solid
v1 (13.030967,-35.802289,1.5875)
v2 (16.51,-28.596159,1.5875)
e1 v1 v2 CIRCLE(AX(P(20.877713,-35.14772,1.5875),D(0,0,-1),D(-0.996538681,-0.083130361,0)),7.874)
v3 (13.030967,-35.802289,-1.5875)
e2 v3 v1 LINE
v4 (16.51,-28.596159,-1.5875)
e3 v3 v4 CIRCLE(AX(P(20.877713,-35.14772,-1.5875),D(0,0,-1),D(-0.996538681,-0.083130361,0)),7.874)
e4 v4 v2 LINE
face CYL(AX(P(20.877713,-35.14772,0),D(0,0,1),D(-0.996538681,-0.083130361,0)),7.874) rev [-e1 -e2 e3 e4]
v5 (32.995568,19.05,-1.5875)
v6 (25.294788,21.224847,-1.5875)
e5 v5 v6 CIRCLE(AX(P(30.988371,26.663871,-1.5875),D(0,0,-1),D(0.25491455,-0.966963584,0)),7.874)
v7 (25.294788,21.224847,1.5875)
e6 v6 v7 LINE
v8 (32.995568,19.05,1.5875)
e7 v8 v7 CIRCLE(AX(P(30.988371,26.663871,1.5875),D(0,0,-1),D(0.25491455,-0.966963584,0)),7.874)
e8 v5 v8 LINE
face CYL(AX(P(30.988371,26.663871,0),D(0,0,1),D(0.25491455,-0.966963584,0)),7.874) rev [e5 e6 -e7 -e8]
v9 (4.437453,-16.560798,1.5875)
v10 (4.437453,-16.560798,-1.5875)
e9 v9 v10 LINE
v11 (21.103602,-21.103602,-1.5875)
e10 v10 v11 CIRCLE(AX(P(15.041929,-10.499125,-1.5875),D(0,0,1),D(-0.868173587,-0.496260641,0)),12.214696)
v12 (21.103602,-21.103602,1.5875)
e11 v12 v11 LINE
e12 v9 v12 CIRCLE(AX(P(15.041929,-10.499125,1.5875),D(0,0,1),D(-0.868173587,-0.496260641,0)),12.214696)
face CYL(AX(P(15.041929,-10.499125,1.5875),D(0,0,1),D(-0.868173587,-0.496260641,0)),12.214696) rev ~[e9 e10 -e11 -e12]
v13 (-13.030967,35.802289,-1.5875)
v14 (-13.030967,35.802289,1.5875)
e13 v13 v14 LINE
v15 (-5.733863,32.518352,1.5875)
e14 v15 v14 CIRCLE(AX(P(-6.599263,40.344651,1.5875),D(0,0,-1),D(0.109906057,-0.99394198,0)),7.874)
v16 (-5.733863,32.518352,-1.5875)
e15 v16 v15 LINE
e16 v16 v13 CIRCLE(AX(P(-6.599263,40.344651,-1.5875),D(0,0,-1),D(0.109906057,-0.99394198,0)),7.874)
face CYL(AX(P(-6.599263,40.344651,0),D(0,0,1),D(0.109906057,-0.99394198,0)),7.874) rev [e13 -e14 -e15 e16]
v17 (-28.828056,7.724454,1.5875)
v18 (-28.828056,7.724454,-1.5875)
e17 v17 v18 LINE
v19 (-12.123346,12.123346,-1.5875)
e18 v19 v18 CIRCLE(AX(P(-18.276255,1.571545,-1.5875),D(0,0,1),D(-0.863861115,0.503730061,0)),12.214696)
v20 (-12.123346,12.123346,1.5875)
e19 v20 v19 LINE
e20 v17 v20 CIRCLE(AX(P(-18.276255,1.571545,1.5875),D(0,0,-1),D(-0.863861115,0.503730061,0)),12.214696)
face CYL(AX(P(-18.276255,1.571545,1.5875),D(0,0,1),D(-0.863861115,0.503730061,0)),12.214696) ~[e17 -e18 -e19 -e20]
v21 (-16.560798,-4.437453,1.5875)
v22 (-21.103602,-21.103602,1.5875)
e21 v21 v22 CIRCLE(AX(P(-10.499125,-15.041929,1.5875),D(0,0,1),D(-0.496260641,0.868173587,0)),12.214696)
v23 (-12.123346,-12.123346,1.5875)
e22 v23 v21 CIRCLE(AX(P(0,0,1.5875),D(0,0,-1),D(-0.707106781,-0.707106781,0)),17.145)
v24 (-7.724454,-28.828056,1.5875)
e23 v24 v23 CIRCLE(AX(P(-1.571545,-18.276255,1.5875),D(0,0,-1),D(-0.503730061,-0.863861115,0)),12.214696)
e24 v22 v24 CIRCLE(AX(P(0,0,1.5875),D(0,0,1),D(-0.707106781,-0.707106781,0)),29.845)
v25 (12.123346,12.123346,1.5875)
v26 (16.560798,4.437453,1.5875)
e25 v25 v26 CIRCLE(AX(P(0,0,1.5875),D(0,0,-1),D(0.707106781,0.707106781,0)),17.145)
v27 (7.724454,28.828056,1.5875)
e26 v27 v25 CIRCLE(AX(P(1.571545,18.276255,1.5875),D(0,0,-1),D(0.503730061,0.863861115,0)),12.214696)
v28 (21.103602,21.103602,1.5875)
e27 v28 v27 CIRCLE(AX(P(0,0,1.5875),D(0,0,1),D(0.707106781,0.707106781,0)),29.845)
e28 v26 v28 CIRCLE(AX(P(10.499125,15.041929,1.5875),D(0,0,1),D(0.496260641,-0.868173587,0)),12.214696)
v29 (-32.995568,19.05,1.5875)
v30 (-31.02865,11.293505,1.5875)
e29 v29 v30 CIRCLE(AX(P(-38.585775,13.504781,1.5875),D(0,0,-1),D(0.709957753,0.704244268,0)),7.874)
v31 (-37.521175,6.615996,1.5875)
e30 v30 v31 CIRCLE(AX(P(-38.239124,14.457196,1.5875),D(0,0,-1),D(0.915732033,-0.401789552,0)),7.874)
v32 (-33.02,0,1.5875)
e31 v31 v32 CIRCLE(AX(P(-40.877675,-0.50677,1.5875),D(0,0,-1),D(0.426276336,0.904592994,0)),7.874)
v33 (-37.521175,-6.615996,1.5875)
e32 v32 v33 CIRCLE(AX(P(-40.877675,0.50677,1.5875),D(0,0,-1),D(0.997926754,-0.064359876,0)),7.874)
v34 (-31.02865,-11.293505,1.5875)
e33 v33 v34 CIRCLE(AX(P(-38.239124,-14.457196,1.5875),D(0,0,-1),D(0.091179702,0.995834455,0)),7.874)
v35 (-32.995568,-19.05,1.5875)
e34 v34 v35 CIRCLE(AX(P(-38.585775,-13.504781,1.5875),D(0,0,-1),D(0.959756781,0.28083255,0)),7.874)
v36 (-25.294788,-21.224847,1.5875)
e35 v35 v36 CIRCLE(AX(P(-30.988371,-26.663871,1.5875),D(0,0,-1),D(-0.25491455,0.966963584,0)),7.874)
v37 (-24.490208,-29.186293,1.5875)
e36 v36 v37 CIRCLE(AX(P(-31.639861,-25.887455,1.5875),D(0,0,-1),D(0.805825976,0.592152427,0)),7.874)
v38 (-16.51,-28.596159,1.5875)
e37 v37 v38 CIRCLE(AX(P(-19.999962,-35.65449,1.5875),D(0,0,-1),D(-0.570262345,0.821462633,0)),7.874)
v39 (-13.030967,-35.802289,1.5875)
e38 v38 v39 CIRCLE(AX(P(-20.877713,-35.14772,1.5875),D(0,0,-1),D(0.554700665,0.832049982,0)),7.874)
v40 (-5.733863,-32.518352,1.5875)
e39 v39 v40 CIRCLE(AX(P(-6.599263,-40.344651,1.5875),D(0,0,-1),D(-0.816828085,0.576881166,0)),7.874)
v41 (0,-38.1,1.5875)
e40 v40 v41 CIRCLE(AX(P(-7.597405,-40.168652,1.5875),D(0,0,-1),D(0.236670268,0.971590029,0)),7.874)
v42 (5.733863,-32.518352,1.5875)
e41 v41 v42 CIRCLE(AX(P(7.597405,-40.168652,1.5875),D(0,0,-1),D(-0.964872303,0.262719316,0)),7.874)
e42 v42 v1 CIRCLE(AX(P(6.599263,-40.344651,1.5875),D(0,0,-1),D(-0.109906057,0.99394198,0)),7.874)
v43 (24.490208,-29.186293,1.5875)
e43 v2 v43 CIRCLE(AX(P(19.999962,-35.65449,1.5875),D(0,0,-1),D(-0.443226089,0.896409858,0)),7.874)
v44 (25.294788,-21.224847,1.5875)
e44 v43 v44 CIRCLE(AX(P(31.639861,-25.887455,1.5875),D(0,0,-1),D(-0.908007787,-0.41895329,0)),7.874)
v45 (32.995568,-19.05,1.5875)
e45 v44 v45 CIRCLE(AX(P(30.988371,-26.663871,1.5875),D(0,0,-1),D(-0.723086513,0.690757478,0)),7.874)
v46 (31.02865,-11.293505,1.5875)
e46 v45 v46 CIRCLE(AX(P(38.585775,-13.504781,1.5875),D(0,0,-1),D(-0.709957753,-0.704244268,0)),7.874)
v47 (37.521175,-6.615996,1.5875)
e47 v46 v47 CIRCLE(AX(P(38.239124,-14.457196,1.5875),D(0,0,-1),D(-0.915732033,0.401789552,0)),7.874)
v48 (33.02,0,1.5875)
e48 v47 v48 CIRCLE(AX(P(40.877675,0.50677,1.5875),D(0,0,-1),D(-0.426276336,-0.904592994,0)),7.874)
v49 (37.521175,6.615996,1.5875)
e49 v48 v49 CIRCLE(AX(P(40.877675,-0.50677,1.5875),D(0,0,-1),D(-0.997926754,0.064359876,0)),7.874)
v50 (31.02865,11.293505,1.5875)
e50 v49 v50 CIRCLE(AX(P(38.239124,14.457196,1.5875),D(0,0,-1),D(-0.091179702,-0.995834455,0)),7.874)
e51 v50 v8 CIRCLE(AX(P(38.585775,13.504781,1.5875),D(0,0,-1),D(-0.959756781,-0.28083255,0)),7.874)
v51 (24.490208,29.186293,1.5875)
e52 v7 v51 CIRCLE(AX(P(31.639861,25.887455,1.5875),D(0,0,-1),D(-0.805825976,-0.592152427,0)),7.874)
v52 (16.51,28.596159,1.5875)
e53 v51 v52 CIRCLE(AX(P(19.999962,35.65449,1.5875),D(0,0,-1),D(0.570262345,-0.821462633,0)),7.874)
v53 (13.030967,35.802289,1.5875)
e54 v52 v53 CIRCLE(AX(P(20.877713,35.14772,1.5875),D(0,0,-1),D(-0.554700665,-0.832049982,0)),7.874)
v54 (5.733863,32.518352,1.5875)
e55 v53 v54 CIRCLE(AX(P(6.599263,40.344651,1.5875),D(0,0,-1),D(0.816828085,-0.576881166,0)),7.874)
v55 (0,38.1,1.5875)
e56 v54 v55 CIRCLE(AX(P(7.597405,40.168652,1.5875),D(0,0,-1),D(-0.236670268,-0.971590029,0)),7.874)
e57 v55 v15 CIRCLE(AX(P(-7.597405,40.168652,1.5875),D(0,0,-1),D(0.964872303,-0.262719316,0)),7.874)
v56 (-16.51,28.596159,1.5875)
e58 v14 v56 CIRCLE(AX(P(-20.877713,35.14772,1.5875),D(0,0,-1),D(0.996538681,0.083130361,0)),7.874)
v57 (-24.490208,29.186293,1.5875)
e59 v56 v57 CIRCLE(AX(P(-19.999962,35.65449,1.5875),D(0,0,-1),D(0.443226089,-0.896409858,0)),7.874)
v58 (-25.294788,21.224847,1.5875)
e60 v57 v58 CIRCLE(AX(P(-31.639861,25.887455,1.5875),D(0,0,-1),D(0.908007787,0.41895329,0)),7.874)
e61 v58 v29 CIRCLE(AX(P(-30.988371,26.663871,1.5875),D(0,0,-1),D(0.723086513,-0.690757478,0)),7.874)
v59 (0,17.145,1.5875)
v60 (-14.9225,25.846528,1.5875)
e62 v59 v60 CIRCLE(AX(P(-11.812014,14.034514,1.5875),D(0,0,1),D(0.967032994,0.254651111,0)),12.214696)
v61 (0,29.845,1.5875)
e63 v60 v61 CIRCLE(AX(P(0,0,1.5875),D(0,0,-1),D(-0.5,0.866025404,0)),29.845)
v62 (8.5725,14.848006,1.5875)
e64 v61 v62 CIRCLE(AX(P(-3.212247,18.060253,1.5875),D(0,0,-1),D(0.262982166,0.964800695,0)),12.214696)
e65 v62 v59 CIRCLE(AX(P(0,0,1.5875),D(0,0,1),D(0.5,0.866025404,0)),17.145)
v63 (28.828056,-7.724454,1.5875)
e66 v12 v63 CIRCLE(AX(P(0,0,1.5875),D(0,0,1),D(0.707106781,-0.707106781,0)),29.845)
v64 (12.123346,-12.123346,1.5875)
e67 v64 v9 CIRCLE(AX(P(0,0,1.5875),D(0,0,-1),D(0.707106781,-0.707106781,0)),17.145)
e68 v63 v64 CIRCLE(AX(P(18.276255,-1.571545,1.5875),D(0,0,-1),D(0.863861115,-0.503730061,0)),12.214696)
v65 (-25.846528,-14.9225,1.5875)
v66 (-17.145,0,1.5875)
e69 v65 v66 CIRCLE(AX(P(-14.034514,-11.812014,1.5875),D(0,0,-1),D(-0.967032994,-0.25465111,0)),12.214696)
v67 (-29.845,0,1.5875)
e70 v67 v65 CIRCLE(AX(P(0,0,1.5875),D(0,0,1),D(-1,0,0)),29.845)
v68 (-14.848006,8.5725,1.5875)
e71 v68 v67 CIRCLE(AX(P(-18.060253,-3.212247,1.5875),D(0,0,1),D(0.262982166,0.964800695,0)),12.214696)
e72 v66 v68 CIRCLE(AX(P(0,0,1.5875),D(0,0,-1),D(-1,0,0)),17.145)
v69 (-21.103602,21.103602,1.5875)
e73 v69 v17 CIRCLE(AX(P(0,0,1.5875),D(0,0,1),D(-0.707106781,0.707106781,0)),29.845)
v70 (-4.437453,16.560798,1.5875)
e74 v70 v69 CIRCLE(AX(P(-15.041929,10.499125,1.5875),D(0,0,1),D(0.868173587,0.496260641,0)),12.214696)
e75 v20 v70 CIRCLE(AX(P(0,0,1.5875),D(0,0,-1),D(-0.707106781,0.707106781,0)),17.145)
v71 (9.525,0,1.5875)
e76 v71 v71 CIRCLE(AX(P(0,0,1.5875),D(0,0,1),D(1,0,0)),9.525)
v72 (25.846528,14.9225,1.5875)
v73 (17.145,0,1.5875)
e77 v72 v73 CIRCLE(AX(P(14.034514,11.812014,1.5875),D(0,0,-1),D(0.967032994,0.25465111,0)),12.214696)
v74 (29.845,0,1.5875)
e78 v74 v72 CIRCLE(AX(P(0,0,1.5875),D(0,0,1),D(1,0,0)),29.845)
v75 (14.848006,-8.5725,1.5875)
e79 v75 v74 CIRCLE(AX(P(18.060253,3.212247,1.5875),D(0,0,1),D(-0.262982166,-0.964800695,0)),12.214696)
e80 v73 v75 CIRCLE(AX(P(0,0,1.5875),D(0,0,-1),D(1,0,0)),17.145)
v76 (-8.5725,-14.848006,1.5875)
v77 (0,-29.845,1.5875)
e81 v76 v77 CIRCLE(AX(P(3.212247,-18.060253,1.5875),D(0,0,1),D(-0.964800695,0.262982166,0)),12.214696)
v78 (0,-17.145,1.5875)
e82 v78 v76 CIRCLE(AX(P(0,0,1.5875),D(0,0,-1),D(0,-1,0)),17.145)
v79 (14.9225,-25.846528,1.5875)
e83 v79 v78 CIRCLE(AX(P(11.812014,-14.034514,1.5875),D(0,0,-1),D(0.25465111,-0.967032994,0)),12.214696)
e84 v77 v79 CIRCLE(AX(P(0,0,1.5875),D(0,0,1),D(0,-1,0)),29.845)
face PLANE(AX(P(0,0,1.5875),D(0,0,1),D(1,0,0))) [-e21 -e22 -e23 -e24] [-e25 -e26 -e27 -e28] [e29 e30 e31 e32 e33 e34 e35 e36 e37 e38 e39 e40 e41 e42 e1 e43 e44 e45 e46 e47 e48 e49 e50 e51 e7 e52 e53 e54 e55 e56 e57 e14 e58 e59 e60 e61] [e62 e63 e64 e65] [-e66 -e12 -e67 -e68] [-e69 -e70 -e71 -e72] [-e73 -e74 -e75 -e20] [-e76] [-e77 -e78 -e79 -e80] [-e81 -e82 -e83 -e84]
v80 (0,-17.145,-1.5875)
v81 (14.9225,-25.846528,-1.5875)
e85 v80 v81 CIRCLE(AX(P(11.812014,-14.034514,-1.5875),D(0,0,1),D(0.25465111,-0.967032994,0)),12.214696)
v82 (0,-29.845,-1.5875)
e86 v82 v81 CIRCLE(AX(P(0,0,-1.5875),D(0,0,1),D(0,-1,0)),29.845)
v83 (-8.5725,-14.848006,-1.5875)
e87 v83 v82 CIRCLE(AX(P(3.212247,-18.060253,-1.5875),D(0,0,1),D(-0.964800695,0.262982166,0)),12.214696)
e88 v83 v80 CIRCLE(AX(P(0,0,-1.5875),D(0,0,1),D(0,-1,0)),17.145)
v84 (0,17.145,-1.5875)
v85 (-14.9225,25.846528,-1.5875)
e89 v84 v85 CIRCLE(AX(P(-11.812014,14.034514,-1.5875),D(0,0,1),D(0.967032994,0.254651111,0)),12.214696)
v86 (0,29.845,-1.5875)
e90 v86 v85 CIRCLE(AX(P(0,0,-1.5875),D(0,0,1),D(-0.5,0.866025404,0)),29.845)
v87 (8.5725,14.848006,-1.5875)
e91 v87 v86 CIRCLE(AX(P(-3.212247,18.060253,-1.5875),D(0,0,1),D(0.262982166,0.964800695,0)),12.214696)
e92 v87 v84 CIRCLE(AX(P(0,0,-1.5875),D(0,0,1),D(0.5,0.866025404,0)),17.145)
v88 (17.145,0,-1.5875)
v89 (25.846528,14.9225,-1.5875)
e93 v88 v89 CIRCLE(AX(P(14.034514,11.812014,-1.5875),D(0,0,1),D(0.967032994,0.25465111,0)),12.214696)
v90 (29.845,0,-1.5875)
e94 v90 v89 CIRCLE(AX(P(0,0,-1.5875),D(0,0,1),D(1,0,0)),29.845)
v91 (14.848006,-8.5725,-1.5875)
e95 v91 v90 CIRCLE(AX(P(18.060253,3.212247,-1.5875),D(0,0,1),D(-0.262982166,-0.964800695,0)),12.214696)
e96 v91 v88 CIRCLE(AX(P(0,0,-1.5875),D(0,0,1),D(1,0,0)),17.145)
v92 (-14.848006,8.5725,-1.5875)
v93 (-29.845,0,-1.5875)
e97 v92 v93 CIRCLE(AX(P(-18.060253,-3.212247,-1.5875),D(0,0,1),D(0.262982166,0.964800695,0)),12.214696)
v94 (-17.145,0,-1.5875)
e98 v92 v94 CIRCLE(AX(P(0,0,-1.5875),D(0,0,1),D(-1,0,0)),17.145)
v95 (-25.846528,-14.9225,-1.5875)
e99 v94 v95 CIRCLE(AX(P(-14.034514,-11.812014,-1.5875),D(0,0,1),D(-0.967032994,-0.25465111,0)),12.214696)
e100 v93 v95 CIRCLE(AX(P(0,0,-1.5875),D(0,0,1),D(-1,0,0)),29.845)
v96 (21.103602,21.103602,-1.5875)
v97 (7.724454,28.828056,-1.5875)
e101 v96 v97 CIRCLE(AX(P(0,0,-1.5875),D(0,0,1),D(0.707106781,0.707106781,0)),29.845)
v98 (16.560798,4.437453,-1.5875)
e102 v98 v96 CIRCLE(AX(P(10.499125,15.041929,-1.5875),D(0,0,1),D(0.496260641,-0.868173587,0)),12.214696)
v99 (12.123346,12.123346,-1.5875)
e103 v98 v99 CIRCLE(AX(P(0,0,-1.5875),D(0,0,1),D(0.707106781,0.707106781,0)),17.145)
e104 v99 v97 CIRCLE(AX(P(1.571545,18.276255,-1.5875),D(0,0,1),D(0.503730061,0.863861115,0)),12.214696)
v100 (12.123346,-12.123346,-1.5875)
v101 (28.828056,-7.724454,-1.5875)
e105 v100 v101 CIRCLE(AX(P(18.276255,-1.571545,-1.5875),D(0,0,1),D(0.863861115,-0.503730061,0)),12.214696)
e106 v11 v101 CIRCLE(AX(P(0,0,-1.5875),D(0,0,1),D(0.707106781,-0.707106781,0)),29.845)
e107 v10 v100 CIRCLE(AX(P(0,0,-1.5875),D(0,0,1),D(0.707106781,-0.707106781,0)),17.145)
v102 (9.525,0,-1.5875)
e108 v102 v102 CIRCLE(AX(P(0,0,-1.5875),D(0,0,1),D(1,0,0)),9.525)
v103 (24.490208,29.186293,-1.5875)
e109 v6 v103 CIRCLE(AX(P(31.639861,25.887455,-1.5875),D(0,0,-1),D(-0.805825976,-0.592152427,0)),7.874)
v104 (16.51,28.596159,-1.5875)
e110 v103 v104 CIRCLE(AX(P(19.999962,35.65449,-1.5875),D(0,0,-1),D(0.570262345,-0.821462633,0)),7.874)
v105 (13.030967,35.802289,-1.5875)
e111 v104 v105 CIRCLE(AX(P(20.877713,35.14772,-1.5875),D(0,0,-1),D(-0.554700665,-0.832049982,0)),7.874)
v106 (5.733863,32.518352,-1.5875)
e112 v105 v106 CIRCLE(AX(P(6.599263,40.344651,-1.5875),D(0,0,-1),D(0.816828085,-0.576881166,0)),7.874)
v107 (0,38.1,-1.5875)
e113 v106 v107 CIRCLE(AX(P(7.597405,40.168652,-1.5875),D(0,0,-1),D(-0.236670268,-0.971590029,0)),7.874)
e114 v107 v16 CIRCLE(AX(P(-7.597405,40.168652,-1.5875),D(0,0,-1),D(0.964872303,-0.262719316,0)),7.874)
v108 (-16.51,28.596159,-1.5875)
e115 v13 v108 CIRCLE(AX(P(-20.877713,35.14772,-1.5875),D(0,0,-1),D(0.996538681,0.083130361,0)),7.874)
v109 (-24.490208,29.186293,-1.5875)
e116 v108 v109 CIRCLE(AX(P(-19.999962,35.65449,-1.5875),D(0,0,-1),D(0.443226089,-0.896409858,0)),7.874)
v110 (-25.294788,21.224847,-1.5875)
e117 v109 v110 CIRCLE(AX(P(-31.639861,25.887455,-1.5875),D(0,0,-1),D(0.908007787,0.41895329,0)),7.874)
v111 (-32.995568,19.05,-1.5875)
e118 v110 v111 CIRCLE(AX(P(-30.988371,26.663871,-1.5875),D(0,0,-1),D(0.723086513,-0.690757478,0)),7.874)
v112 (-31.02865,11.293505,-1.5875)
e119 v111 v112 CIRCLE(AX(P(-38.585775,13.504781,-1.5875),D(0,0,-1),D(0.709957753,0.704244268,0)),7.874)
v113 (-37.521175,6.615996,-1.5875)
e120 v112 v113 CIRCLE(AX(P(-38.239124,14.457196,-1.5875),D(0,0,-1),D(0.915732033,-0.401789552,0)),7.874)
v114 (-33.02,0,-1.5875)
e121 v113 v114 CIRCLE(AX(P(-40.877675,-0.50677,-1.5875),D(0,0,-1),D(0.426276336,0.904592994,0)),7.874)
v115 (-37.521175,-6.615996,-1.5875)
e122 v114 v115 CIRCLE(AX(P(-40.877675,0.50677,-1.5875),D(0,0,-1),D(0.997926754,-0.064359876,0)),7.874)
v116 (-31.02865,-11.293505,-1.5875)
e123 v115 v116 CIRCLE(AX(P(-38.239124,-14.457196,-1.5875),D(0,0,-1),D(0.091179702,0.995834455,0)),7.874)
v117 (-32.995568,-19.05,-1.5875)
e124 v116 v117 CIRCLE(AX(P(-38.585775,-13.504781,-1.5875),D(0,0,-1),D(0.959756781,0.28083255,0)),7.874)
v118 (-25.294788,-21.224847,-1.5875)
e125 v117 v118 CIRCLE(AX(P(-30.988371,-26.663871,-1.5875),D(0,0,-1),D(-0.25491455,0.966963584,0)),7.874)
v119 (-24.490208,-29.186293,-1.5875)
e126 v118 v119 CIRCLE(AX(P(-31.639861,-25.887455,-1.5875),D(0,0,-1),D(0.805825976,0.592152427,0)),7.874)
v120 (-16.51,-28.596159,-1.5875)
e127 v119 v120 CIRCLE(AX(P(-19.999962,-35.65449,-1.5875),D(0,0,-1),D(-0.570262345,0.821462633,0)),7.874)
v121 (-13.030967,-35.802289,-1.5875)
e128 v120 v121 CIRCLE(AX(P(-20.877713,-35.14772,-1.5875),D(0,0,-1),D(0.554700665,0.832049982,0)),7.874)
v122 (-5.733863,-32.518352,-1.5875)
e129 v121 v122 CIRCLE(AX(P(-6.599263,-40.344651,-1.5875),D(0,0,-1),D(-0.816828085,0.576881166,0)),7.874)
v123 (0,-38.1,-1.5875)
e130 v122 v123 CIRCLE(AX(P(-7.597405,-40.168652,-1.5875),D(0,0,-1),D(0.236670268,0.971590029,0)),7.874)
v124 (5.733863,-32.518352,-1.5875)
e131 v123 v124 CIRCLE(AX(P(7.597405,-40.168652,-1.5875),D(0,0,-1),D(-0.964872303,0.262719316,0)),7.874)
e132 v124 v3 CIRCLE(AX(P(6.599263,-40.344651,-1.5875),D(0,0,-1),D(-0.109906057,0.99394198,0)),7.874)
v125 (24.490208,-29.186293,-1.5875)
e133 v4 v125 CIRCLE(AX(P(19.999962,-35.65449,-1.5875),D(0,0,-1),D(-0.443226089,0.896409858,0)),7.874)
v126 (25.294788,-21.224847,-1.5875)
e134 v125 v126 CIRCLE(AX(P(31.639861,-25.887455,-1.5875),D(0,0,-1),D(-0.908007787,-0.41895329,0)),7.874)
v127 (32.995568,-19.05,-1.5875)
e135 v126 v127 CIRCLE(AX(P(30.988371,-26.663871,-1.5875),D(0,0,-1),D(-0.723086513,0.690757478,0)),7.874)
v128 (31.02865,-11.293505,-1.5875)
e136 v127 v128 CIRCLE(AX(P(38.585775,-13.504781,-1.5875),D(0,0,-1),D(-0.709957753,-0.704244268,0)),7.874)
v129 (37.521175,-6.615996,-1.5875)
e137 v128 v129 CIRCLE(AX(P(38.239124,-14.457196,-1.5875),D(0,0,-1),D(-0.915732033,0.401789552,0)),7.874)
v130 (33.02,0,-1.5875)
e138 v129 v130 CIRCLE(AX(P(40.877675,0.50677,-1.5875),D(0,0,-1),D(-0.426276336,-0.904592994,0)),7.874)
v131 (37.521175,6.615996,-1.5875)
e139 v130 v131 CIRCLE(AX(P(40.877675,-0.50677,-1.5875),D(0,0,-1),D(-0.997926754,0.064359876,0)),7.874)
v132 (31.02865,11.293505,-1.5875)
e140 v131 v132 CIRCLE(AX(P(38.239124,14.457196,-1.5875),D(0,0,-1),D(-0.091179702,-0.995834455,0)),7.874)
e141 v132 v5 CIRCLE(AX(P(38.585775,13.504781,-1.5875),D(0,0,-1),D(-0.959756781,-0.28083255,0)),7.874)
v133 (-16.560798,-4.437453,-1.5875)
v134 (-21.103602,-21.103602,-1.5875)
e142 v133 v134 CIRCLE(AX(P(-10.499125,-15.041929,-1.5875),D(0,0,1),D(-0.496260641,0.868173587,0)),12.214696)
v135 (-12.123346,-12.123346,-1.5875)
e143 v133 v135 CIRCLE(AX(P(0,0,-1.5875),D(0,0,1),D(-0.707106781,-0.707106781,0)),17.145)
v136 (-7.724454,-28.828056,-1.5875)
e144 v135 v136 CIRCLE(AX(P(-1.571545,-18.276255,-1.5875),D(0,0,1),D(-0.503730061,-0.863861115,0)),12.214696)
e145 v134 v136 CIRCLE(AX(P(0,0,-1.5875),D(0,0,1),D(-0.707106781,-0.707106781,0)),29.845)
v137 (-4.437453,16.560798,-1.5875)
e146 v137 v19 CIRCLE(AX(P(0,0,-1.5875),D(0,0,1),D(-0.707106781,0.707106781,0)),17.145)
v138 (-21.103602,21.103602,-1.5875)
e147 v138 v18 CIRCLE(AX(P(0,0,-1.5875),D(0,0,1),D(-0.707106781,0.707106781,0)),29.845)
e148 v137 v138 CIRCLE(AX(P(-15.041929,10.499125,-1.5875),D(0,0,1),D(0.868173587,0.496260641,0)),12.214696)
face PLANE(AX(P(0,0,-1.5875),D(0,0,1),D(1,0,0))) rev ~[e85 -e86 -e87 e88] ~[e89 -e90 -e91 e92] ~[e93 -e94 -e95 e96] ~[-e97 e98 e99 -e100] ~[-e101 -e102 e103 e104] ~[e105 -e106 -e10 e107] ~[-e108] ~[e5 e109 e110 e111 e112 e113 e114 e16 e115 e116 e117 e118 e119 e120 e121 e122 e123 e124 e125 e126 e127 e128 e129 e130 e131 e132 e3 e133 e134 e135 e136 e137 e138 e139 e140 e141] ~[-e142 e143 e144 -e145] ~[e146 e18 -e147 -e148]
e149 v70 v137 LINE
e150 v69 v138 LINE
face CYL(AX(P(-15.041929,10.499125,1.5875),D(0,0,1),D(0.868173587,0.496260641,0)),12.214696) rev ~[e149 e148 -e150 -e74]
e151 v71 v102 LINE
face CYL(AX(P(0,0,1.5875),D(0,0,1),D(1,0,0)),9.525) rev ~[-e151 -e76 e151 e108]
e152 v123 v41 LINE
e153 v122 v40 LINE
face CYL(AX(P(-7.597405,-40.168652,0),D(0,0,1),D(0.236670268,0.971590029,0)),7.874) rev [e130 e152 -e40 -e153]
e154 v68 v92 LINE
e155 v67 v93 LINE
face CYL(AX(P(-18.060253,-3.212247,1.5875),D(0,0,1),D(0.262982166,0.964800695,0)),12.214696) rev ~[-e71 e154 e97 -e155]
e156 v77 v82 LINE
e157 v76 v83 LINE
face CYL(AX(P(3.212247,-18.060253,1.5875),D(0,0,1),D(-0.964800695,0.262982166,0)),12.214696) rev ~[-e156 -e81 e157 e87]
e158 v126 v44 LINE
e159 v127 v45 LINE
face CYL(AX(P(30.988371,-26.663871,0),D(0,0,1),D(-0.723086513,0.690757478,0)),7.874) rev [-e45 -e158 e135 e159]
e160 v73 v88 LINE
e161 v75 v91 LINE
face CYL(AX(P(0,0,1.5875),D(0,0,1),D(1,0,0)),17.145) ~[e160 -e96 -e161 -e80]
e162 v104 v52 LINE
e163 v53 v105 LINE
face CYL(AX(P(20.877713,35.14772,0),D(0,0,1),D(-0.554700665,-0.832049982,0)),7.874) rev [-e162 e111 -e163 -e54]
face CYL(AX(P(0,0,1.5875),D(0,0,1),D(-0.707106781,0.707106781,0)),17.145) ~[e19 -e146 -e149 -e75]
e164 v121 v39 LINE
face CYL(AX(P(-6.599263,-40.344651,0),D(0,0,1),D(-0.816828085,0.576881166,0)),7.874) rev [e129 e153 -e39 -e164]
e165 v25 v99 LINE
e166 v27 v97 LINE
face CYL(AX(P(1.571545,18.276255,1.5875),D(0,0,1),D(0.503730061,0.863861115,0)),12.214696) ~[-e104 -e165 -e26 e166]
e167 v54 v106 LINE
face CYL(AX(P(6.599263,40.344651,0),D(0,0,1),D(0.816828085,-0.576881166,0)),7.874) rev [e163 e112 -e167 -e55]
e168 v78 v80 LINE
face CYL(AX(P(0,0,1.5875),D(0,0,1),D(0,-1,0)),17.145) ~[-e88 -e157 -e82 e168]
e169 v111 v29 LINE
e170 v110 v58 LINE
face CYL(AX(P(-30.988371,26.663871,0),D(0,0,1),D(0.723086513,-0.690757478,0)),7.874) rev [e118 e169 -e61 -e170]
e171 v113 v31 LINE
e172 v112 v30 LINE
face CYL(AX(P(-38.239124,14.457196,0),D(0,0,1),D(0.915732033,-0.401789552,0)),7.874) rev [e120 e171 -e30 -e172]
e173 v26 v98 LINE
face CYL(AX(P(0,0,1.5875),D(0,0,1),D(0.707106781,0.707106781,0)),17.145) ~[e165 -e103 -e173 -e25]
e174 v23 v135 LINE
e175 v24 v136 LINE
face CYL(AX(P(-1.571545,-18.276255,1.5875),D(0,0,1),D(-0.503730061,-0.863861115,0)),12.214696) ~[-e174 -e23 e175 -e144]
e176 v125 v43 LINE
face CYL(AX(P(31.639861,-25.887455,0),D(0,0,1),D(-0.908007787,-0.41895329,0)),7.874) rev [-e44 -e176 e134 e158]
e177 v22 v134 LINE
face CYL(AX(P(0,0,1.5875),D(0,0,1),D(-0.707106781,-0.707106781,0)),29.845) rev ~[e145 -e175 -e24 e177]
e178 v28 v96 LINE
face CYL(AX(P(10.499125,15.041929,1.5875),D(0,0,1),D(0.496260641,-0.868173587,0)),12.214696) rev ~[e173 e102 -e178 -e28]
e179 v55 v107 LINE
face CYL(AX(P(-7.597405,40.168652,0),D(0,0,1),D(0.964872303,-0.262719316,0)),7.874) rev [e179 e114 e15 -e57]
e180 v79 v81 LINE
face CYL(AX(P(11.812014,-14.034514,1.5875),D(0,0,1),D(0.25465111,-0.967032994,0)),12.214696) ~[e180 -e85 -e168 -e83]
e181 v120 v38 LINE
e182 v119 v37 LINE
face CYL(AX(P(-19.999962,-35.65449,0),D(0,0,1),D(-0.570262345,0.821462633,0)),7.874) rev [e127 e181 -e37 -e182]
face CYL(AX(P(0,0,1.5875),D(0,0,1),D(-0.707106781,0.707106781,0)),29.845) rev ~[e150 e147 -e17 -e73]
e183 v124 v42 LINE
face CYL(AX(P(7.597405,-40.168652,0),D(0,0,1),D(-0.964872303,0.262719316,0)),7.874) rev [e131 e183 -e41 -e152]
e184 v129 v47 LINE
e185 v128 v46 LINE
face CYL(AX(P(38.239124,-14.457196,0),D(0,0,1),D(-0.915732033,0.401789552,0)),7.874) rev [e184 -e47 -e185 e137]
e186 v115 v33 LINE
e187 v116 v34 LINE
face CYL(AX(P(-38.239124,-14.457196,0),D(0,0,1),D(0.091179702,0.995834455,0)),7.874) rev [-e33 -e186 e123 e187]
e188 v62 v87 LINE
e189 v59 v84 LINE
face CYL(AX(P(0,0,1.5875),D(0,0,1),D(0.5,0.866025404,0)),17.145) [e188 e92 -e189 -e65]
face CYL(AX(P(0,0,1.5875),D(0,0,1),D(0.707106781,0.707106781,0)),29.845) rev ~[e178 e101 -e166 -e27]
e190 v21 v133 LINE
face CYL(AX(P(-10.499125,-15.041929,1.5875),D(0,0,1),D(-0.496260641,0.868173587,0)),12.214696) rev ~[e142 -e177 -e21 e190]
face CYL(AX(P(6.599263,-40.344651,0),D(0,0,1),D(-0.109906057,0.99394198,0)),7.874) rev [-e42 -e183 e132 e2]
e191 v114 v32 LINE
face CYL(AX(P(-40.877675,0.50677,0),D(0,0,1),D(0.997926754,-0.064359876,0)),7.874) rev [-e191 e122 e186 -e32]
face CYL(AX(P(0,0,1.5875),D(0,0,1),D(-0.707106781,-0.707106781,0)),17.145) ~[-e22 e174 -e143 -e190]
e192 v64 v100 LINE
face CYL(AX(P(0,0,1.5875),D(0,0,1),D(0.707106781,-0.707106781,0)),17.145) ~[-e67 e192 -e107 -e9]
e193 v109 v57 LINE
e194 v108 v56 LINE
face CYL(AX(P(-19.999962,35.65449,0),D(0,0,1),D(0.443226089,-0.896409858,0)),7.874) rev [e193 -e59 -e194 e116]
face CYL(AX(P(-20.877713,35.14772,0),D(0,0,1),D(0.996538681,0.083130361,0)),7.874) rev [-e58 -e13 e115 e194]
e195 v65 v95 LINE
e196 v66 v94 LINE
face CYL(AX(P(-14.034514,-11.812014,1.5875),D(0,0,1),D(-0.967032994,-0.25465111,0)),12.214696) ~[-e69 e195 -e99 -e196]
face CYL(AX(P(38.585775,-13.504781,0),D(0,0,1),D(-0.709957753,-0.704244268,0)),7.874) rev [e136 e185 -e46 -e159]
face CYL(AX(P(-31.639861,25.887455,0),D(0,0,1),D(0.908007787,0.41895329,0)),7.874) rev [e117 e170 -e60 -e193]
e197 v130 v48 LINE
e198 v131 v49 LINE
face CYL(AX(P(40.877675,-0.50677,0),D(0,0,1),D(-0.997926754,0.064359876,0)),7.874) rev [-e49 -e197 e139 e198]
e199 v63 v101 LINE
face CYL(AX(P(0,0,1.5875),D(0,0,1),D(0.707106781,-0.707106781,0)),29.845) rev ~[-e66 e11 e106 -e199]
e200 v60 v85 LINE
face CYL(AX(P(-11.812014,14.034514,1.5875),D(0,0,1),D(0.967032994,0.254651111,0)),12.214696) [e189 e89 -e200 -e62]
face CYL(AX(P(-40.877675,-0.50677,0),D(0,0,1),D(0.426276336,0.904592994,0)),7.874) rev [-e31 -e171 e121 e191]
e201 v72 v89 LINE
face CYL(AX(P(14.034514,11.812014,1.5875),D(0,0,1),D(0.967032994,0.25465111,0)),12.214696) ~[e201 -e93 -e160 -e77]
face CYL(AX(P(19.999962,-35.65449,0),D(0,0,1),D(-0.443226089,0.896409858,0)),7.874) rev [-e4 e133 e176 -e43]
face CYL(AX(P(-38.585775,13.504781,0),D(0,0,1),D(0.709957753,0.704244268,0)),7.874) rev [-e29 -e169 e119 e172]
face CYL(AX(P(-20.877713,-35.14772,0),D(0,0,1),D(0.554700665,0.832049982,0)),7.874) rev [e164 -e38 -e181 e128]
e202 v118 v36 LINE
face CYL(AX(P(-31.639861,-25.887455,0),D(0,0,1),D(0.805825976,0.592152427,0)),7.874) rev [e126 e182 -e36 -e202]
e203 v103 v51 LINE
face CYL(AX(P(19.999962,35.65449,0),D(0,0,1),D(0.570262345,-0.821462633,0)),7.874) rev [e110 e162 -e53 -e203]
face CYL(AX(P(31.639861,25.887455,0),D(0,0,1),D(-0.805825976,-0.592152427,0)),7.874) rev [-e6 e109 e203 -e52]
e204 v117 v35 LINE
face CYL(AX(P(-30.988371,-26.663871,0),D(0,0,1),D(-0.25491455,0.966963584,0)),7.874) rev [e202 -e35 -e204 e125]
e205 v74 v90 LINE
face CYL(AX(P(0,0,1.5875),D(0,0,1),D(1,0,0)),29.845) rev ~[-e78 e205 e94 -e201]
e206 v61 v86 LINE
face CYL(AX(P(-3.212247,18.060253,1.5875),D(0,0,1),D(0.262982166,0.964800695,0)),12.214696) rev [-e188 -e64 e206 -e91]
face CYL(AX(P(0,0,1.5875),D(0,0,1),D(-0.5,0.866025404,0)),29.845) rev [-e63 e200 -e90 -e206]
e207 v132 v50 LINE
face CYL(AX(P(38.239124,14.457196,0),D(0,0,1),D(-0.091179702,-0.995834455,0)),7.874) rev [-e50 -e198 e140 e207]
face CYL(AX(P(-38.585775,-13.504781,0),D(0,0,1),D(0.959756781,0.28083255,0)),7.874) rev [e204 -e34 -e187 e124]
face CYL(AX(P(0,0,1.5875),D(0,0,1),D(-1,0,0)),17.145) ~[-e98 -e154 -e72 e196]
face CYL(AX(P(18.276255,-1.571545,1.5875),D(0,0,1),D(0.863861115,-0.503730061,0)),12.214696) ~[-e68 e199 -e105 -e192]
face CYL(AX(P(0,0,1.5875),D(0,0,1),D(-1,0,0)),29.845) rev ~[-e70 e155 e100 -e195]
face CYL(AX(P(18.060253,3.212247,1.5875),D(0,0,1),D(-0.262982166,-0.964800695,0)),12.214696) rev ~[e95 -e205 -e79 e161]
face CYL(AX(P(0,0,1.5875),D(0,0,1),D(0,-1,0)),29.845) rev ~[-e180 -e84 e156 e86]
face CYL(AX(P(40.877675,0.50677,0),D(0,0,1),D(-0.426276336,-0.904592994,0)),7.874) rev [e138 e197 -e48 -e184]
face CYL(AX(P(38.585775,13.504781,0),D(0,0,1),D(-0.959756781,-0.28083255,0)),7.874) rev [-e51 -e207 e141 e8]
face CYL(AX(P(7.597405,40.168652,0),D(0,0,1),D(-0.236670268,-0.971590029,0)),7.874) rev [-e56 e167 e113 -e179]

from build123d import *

# Parameters (mm, degrees)
SALIENTE_EXTRUIR1_DEPTH = 1.5875
CROQUIS2_R              = 9.525
CORTAR_EXTRUIR1_DEPTH   = 4.175


with BuildPart() as part:
    # Croquis1 → Saliente-Extruir1 (new body, symmetric)
    with BuildSketch(Plane.XY):
        with BuildLine():
            ThreePointArc((0, 38.1), (-2.105039418, 34.526506764), (-5.733862827, 32.518352004))
            ThreePointArc((-5.733862827, 32.518352004), (-9.830670784, 33.164269511), (-13.030967461, 35.802288852))
            ThreePointArc((-13.030967461, 35.802288852), (-13.7868508, 31.724337744), (-16.51, 28.596158833))
            ThreePointArc((-16.51, 28.596158833), (-20.580657004, 27.801931903), (-24.490207929, 29.186293283))
            ThreePointArc((-24.490207929, 29.186293283), (-23.805764502, 25.09574539), (-25.294787512, 21.224846872))
            ThreePointArc((-25.294787512, 21.224846872), (-28.848312252, 19.086270994), (-32.995567884, 19.05))
            ThreePointArc((-32.995567884, 19.05), (-30.95335167, 15.440235769), (-31.028650338, 11.293505133))
            ThreePointArc((-31.028650338, 11.293505133), (-33.636435286, 8.06852412), (-37.52117539, 6.615995569))
            ThreePointArc((-37.52117539, 6.615995569), (-34.367507804, 3.922405841), (-33.02, 0))
            ThreePointArc((-33.02, 0), (-34.367507804, -3.922405841), (-37.52117539, -6.615995569))
            ThreePointArc((-37.52117539, -6.615995569), (-33.636435286, -8.06852412), (-31.028650338, -11.293505133))
            ThreePointArc((-31.028650338, -11.293505133), (-30.95335167, -15.440235769), (-32.995567884, -19.05))
            ThreePointArc((-32.995567884, -19.05), (-28.848312252, -19.086270994), (-25.294787512, -21.224846872))
            ThreePointArc((-25.294787512, -21.224846872), (-23.805764502, -25.09574539), (-24.490207929, -29.186293283))
            ThreePointArc((-24.490207929, -29.186293283), (-20.580657004, -27.801931903), (-16.51, -28.596158833))
            ThreePointArc((-16.51, -28.596158833), (-13.7868508, -31.724337744), (-13.030967461, -35.802288852))
            ThreePointArc((-13.030967461, -35.802288852), (-9.830670784, -33.164269511), (-5.733862827, -32.518352004))
            ThreePointArc((-5.733862827, -32.518352004), (-2.105039418, -34.526506764), (0, -38.1))
            ThreePointArc((0, -38.1), (2.105039418, -34.526506764), (5.733862827, -32.518352004))
            ThreePointArc((5.733862827, -32.518352004), (9.830670784, -33.164269511), (13.030967461, -35.802288852))
            ThreePointArc((13.030967461, -35.802288852), (13.7868508, -31.724337744), (16.51, -28.596158833))
            ThreePointArc((16.51, -28.596158833), (20.580657004, -27.801931903), (24.490207929, -29.186293283))
            ThreePointArc((24.490207929, -29.186293283), (23.805764502, -25.09574539), (25.294787512, -21.224846872))
            ThreePointArc((25.294787512, -21.224846872), (28.848312252, -19.086270994), (32.995567884, -19.05))
            ThreePointArc((32.995567884, -19.05), (30.95335167, -15.440235769), (31.028650338, -11.293505133))
            ThreePointArc((31.028650338, -11.293505133), (33.636435286, -8.06852412), (37.52117539, -6.615995569))
            ThreePointArc((37.52117539, -6.615995569), (34.367507804, -3.922405841), (33.02, 0))
            ThreePointArc((33.02, 0), (34.367507804, 3.922405841), (37.52117539, 6.615995569))
            ThreePointArc((37.52117539, 6.615995569), (33.636435286, 8.06852412), (31.028650338, 11.293505133))
            ThreePointArc((31.028650338, 11.293505133), (30.95335167, 15.440235769), (32.995567884, 19.05))
            ThreePointArc((32.995567884, 19.05), (28.848312252, 19.086270994), (25.294787512, 21.224846872))
            ThreePointArc((25.294787512, 21.224846872), (23.805764502, 25.09574539), (24.490207929, 29.186293283))
            ThreePointArc((24.490207929, 29.186293283), (20.580657004, 27.801931903), (16.51, 28.596158833))
            ThreePointArc((16.51, 28.596158833), (13.7868508, 31.724337744), (13.030967461, 35.802288852))
            ThreePointArc((13.030967461, 35.802288852), (9.830670784, 33.164269511), (5.733862827, 32.518352004))
            ThreePointArc((5.733862827, 32.518352004), (2.105039418, 34.526506764), (0, 38.1))
        make_face()
    extrude(amount=SALIENTE_EXTRUIR1_DEPTH, both=True)

    # Croquis2 → Cortar-Extruir1 (cut, through all)
    with BuildSketch(Plane.XY.offset(1.5875)):
        Circle(CROQUIS2_R)
        with BuildLine():
            ThreePointArc((8.5725, 14.848005548), (4.437452528, 16.560798292), (0, 17.145))
            ThreePointArc((0, 17.145), (-5.659104508, 24.58631503), (-14.9225, 25.846528176))
            ThreePointArc((-14.9225, 25.846528176), (-7.724454401, 28.828056286), (0, 29.845))
            ThreePointArc((0, 29.845), (7.392229248, 24.121925656), (8.5725, 14.848005548))
        make_face()
        with BuildLine():
            ThreePointArc((21.103601885, 21.103601885), (14.9225, 25.846528176), (7.724454401, 28.828056286))
            ThreePointArc((7.724454401, 28.828056286), (13.383558909, 21.386741255), (12.123345763, 12.123345763))
            ThreePointArc((12.123345763, 12.123345763), (14.848005548, 8.5725), (16.560798292, 4.437452528))
            ThreePointArc((16.560798292, 4.437452528), (22.283872636, 11.829681777), (21.103601885, 21.103601885))
        make_face()
        with BuildLine():
            ThreePointArc((29.845, 0), (28.828056286, 7.724454401), (25.846528176, 14.9225))
            ThreePointArc((25.846528176, 14.9225), (24.58631503, 5.659104508), (17.145, 0))
            ThreePointArc((17.145, 0), (16.560798292, -4.437452528), (14.848005548, -8.5725))
            ThreePointArc((14.848005548, -8.5725), (24.121925656, -7.392229248), (29.845, 0))
        make_face()
        with BuildLine():
            ThreePointArc((21.103601885, -21.103601885), (25.846528176, -14.9225), (28.828056286, -7.724454401))
            ThreePointArc((28.828056286, -7.724454401), (21.386741255, -13.383558909), (12.123345763, -12.123345763))
            ThreePointArc((12.123345763, -12.123345763), (8.5725, -14.848005548), (4.437452528, -16.560798292))
            ThreePointArc((4.437452528, -16.560798292), (11.829681777, -22.283872636), (21.103601885, -21.103601885))
        make_face()
        with BuildLine():
            ThreePointArc((0, -29.845), (7.724454401, -28.828056286), (14.9225, -25.846528176))
            ThreePointArc((14.9225, -25.846528176), (5.659104508, -24.58631503), (0, -17.145))
            ThreePointArc((0, -17.145), (-4.437452528, -16.560798292), (-8.5725, -14.848005548))
            ThreePointArc((-8.5725, -14.848005548), (-7.392229248, -24.121925656), (0, -29.845))
        make_face()
        with BuildLine():
            ThreePointArc((-21.103601885, -21.103601885), (-14.9225, -25.846528176), (-7.724454401, -28.828056286))
            ThreePointArc((-7.724454401, -28.828056286), (-13.383558909, -21.386741255), (-12.123345763, -12.123345763))
            ThreePointArc((-12.123345763, -12.123345763), (-14.848005548, -8.5725), (-16.560798292, -4.437452528))
            ThreePointArc((-16.560798292, -4.437452528), (-22.283872636, -11.829681777), (-21.103601885, -21.103601885))
        make_face()
        with BuildLine():
            ThreePointArc((-29.845, 0), (-28.828056286, -7.724454401), (-25.846528176, -14.9225))
            ThreePointArc((-25.846528176, -14.9225), (-24.58631503, -5.659104508), (-17.145, 0))
            ThreePointArc((-17.145, 0), (-16.560798292, 4.437452528), (-14.848005548, 8.5725))
            ThreePointArc((-14.848005548, 8.5725), (-24.121925656, 7.392229248), (-29.845, 0))
        make_face()
        with BuildLine():
            ThreePointArc((-21.103601885, 21.103601885), (-25.846528176, 14.9225), (-28.828056286, 7.724454401))
            ThreePointArc((-28.828056286, 7.724454401), (-21.386741255, 13.383558909), (-12.123345763, 12.123345763))
            ThreePointArc((-12.123345763, 12.123345763), (-8.5725, 14.848005548), (-4.437452528, 16.560798292))
            ThreePointArc((-4.437452528, 16.560798292), (-11.829681777, 22.283872636), (-21.103601885, 21.103601885))
        make_face()
    extrude(amount=-CORTAR_EXTRUIR1_DEPTH, mode=Mode.SUBTRACT)


solid = part.part
